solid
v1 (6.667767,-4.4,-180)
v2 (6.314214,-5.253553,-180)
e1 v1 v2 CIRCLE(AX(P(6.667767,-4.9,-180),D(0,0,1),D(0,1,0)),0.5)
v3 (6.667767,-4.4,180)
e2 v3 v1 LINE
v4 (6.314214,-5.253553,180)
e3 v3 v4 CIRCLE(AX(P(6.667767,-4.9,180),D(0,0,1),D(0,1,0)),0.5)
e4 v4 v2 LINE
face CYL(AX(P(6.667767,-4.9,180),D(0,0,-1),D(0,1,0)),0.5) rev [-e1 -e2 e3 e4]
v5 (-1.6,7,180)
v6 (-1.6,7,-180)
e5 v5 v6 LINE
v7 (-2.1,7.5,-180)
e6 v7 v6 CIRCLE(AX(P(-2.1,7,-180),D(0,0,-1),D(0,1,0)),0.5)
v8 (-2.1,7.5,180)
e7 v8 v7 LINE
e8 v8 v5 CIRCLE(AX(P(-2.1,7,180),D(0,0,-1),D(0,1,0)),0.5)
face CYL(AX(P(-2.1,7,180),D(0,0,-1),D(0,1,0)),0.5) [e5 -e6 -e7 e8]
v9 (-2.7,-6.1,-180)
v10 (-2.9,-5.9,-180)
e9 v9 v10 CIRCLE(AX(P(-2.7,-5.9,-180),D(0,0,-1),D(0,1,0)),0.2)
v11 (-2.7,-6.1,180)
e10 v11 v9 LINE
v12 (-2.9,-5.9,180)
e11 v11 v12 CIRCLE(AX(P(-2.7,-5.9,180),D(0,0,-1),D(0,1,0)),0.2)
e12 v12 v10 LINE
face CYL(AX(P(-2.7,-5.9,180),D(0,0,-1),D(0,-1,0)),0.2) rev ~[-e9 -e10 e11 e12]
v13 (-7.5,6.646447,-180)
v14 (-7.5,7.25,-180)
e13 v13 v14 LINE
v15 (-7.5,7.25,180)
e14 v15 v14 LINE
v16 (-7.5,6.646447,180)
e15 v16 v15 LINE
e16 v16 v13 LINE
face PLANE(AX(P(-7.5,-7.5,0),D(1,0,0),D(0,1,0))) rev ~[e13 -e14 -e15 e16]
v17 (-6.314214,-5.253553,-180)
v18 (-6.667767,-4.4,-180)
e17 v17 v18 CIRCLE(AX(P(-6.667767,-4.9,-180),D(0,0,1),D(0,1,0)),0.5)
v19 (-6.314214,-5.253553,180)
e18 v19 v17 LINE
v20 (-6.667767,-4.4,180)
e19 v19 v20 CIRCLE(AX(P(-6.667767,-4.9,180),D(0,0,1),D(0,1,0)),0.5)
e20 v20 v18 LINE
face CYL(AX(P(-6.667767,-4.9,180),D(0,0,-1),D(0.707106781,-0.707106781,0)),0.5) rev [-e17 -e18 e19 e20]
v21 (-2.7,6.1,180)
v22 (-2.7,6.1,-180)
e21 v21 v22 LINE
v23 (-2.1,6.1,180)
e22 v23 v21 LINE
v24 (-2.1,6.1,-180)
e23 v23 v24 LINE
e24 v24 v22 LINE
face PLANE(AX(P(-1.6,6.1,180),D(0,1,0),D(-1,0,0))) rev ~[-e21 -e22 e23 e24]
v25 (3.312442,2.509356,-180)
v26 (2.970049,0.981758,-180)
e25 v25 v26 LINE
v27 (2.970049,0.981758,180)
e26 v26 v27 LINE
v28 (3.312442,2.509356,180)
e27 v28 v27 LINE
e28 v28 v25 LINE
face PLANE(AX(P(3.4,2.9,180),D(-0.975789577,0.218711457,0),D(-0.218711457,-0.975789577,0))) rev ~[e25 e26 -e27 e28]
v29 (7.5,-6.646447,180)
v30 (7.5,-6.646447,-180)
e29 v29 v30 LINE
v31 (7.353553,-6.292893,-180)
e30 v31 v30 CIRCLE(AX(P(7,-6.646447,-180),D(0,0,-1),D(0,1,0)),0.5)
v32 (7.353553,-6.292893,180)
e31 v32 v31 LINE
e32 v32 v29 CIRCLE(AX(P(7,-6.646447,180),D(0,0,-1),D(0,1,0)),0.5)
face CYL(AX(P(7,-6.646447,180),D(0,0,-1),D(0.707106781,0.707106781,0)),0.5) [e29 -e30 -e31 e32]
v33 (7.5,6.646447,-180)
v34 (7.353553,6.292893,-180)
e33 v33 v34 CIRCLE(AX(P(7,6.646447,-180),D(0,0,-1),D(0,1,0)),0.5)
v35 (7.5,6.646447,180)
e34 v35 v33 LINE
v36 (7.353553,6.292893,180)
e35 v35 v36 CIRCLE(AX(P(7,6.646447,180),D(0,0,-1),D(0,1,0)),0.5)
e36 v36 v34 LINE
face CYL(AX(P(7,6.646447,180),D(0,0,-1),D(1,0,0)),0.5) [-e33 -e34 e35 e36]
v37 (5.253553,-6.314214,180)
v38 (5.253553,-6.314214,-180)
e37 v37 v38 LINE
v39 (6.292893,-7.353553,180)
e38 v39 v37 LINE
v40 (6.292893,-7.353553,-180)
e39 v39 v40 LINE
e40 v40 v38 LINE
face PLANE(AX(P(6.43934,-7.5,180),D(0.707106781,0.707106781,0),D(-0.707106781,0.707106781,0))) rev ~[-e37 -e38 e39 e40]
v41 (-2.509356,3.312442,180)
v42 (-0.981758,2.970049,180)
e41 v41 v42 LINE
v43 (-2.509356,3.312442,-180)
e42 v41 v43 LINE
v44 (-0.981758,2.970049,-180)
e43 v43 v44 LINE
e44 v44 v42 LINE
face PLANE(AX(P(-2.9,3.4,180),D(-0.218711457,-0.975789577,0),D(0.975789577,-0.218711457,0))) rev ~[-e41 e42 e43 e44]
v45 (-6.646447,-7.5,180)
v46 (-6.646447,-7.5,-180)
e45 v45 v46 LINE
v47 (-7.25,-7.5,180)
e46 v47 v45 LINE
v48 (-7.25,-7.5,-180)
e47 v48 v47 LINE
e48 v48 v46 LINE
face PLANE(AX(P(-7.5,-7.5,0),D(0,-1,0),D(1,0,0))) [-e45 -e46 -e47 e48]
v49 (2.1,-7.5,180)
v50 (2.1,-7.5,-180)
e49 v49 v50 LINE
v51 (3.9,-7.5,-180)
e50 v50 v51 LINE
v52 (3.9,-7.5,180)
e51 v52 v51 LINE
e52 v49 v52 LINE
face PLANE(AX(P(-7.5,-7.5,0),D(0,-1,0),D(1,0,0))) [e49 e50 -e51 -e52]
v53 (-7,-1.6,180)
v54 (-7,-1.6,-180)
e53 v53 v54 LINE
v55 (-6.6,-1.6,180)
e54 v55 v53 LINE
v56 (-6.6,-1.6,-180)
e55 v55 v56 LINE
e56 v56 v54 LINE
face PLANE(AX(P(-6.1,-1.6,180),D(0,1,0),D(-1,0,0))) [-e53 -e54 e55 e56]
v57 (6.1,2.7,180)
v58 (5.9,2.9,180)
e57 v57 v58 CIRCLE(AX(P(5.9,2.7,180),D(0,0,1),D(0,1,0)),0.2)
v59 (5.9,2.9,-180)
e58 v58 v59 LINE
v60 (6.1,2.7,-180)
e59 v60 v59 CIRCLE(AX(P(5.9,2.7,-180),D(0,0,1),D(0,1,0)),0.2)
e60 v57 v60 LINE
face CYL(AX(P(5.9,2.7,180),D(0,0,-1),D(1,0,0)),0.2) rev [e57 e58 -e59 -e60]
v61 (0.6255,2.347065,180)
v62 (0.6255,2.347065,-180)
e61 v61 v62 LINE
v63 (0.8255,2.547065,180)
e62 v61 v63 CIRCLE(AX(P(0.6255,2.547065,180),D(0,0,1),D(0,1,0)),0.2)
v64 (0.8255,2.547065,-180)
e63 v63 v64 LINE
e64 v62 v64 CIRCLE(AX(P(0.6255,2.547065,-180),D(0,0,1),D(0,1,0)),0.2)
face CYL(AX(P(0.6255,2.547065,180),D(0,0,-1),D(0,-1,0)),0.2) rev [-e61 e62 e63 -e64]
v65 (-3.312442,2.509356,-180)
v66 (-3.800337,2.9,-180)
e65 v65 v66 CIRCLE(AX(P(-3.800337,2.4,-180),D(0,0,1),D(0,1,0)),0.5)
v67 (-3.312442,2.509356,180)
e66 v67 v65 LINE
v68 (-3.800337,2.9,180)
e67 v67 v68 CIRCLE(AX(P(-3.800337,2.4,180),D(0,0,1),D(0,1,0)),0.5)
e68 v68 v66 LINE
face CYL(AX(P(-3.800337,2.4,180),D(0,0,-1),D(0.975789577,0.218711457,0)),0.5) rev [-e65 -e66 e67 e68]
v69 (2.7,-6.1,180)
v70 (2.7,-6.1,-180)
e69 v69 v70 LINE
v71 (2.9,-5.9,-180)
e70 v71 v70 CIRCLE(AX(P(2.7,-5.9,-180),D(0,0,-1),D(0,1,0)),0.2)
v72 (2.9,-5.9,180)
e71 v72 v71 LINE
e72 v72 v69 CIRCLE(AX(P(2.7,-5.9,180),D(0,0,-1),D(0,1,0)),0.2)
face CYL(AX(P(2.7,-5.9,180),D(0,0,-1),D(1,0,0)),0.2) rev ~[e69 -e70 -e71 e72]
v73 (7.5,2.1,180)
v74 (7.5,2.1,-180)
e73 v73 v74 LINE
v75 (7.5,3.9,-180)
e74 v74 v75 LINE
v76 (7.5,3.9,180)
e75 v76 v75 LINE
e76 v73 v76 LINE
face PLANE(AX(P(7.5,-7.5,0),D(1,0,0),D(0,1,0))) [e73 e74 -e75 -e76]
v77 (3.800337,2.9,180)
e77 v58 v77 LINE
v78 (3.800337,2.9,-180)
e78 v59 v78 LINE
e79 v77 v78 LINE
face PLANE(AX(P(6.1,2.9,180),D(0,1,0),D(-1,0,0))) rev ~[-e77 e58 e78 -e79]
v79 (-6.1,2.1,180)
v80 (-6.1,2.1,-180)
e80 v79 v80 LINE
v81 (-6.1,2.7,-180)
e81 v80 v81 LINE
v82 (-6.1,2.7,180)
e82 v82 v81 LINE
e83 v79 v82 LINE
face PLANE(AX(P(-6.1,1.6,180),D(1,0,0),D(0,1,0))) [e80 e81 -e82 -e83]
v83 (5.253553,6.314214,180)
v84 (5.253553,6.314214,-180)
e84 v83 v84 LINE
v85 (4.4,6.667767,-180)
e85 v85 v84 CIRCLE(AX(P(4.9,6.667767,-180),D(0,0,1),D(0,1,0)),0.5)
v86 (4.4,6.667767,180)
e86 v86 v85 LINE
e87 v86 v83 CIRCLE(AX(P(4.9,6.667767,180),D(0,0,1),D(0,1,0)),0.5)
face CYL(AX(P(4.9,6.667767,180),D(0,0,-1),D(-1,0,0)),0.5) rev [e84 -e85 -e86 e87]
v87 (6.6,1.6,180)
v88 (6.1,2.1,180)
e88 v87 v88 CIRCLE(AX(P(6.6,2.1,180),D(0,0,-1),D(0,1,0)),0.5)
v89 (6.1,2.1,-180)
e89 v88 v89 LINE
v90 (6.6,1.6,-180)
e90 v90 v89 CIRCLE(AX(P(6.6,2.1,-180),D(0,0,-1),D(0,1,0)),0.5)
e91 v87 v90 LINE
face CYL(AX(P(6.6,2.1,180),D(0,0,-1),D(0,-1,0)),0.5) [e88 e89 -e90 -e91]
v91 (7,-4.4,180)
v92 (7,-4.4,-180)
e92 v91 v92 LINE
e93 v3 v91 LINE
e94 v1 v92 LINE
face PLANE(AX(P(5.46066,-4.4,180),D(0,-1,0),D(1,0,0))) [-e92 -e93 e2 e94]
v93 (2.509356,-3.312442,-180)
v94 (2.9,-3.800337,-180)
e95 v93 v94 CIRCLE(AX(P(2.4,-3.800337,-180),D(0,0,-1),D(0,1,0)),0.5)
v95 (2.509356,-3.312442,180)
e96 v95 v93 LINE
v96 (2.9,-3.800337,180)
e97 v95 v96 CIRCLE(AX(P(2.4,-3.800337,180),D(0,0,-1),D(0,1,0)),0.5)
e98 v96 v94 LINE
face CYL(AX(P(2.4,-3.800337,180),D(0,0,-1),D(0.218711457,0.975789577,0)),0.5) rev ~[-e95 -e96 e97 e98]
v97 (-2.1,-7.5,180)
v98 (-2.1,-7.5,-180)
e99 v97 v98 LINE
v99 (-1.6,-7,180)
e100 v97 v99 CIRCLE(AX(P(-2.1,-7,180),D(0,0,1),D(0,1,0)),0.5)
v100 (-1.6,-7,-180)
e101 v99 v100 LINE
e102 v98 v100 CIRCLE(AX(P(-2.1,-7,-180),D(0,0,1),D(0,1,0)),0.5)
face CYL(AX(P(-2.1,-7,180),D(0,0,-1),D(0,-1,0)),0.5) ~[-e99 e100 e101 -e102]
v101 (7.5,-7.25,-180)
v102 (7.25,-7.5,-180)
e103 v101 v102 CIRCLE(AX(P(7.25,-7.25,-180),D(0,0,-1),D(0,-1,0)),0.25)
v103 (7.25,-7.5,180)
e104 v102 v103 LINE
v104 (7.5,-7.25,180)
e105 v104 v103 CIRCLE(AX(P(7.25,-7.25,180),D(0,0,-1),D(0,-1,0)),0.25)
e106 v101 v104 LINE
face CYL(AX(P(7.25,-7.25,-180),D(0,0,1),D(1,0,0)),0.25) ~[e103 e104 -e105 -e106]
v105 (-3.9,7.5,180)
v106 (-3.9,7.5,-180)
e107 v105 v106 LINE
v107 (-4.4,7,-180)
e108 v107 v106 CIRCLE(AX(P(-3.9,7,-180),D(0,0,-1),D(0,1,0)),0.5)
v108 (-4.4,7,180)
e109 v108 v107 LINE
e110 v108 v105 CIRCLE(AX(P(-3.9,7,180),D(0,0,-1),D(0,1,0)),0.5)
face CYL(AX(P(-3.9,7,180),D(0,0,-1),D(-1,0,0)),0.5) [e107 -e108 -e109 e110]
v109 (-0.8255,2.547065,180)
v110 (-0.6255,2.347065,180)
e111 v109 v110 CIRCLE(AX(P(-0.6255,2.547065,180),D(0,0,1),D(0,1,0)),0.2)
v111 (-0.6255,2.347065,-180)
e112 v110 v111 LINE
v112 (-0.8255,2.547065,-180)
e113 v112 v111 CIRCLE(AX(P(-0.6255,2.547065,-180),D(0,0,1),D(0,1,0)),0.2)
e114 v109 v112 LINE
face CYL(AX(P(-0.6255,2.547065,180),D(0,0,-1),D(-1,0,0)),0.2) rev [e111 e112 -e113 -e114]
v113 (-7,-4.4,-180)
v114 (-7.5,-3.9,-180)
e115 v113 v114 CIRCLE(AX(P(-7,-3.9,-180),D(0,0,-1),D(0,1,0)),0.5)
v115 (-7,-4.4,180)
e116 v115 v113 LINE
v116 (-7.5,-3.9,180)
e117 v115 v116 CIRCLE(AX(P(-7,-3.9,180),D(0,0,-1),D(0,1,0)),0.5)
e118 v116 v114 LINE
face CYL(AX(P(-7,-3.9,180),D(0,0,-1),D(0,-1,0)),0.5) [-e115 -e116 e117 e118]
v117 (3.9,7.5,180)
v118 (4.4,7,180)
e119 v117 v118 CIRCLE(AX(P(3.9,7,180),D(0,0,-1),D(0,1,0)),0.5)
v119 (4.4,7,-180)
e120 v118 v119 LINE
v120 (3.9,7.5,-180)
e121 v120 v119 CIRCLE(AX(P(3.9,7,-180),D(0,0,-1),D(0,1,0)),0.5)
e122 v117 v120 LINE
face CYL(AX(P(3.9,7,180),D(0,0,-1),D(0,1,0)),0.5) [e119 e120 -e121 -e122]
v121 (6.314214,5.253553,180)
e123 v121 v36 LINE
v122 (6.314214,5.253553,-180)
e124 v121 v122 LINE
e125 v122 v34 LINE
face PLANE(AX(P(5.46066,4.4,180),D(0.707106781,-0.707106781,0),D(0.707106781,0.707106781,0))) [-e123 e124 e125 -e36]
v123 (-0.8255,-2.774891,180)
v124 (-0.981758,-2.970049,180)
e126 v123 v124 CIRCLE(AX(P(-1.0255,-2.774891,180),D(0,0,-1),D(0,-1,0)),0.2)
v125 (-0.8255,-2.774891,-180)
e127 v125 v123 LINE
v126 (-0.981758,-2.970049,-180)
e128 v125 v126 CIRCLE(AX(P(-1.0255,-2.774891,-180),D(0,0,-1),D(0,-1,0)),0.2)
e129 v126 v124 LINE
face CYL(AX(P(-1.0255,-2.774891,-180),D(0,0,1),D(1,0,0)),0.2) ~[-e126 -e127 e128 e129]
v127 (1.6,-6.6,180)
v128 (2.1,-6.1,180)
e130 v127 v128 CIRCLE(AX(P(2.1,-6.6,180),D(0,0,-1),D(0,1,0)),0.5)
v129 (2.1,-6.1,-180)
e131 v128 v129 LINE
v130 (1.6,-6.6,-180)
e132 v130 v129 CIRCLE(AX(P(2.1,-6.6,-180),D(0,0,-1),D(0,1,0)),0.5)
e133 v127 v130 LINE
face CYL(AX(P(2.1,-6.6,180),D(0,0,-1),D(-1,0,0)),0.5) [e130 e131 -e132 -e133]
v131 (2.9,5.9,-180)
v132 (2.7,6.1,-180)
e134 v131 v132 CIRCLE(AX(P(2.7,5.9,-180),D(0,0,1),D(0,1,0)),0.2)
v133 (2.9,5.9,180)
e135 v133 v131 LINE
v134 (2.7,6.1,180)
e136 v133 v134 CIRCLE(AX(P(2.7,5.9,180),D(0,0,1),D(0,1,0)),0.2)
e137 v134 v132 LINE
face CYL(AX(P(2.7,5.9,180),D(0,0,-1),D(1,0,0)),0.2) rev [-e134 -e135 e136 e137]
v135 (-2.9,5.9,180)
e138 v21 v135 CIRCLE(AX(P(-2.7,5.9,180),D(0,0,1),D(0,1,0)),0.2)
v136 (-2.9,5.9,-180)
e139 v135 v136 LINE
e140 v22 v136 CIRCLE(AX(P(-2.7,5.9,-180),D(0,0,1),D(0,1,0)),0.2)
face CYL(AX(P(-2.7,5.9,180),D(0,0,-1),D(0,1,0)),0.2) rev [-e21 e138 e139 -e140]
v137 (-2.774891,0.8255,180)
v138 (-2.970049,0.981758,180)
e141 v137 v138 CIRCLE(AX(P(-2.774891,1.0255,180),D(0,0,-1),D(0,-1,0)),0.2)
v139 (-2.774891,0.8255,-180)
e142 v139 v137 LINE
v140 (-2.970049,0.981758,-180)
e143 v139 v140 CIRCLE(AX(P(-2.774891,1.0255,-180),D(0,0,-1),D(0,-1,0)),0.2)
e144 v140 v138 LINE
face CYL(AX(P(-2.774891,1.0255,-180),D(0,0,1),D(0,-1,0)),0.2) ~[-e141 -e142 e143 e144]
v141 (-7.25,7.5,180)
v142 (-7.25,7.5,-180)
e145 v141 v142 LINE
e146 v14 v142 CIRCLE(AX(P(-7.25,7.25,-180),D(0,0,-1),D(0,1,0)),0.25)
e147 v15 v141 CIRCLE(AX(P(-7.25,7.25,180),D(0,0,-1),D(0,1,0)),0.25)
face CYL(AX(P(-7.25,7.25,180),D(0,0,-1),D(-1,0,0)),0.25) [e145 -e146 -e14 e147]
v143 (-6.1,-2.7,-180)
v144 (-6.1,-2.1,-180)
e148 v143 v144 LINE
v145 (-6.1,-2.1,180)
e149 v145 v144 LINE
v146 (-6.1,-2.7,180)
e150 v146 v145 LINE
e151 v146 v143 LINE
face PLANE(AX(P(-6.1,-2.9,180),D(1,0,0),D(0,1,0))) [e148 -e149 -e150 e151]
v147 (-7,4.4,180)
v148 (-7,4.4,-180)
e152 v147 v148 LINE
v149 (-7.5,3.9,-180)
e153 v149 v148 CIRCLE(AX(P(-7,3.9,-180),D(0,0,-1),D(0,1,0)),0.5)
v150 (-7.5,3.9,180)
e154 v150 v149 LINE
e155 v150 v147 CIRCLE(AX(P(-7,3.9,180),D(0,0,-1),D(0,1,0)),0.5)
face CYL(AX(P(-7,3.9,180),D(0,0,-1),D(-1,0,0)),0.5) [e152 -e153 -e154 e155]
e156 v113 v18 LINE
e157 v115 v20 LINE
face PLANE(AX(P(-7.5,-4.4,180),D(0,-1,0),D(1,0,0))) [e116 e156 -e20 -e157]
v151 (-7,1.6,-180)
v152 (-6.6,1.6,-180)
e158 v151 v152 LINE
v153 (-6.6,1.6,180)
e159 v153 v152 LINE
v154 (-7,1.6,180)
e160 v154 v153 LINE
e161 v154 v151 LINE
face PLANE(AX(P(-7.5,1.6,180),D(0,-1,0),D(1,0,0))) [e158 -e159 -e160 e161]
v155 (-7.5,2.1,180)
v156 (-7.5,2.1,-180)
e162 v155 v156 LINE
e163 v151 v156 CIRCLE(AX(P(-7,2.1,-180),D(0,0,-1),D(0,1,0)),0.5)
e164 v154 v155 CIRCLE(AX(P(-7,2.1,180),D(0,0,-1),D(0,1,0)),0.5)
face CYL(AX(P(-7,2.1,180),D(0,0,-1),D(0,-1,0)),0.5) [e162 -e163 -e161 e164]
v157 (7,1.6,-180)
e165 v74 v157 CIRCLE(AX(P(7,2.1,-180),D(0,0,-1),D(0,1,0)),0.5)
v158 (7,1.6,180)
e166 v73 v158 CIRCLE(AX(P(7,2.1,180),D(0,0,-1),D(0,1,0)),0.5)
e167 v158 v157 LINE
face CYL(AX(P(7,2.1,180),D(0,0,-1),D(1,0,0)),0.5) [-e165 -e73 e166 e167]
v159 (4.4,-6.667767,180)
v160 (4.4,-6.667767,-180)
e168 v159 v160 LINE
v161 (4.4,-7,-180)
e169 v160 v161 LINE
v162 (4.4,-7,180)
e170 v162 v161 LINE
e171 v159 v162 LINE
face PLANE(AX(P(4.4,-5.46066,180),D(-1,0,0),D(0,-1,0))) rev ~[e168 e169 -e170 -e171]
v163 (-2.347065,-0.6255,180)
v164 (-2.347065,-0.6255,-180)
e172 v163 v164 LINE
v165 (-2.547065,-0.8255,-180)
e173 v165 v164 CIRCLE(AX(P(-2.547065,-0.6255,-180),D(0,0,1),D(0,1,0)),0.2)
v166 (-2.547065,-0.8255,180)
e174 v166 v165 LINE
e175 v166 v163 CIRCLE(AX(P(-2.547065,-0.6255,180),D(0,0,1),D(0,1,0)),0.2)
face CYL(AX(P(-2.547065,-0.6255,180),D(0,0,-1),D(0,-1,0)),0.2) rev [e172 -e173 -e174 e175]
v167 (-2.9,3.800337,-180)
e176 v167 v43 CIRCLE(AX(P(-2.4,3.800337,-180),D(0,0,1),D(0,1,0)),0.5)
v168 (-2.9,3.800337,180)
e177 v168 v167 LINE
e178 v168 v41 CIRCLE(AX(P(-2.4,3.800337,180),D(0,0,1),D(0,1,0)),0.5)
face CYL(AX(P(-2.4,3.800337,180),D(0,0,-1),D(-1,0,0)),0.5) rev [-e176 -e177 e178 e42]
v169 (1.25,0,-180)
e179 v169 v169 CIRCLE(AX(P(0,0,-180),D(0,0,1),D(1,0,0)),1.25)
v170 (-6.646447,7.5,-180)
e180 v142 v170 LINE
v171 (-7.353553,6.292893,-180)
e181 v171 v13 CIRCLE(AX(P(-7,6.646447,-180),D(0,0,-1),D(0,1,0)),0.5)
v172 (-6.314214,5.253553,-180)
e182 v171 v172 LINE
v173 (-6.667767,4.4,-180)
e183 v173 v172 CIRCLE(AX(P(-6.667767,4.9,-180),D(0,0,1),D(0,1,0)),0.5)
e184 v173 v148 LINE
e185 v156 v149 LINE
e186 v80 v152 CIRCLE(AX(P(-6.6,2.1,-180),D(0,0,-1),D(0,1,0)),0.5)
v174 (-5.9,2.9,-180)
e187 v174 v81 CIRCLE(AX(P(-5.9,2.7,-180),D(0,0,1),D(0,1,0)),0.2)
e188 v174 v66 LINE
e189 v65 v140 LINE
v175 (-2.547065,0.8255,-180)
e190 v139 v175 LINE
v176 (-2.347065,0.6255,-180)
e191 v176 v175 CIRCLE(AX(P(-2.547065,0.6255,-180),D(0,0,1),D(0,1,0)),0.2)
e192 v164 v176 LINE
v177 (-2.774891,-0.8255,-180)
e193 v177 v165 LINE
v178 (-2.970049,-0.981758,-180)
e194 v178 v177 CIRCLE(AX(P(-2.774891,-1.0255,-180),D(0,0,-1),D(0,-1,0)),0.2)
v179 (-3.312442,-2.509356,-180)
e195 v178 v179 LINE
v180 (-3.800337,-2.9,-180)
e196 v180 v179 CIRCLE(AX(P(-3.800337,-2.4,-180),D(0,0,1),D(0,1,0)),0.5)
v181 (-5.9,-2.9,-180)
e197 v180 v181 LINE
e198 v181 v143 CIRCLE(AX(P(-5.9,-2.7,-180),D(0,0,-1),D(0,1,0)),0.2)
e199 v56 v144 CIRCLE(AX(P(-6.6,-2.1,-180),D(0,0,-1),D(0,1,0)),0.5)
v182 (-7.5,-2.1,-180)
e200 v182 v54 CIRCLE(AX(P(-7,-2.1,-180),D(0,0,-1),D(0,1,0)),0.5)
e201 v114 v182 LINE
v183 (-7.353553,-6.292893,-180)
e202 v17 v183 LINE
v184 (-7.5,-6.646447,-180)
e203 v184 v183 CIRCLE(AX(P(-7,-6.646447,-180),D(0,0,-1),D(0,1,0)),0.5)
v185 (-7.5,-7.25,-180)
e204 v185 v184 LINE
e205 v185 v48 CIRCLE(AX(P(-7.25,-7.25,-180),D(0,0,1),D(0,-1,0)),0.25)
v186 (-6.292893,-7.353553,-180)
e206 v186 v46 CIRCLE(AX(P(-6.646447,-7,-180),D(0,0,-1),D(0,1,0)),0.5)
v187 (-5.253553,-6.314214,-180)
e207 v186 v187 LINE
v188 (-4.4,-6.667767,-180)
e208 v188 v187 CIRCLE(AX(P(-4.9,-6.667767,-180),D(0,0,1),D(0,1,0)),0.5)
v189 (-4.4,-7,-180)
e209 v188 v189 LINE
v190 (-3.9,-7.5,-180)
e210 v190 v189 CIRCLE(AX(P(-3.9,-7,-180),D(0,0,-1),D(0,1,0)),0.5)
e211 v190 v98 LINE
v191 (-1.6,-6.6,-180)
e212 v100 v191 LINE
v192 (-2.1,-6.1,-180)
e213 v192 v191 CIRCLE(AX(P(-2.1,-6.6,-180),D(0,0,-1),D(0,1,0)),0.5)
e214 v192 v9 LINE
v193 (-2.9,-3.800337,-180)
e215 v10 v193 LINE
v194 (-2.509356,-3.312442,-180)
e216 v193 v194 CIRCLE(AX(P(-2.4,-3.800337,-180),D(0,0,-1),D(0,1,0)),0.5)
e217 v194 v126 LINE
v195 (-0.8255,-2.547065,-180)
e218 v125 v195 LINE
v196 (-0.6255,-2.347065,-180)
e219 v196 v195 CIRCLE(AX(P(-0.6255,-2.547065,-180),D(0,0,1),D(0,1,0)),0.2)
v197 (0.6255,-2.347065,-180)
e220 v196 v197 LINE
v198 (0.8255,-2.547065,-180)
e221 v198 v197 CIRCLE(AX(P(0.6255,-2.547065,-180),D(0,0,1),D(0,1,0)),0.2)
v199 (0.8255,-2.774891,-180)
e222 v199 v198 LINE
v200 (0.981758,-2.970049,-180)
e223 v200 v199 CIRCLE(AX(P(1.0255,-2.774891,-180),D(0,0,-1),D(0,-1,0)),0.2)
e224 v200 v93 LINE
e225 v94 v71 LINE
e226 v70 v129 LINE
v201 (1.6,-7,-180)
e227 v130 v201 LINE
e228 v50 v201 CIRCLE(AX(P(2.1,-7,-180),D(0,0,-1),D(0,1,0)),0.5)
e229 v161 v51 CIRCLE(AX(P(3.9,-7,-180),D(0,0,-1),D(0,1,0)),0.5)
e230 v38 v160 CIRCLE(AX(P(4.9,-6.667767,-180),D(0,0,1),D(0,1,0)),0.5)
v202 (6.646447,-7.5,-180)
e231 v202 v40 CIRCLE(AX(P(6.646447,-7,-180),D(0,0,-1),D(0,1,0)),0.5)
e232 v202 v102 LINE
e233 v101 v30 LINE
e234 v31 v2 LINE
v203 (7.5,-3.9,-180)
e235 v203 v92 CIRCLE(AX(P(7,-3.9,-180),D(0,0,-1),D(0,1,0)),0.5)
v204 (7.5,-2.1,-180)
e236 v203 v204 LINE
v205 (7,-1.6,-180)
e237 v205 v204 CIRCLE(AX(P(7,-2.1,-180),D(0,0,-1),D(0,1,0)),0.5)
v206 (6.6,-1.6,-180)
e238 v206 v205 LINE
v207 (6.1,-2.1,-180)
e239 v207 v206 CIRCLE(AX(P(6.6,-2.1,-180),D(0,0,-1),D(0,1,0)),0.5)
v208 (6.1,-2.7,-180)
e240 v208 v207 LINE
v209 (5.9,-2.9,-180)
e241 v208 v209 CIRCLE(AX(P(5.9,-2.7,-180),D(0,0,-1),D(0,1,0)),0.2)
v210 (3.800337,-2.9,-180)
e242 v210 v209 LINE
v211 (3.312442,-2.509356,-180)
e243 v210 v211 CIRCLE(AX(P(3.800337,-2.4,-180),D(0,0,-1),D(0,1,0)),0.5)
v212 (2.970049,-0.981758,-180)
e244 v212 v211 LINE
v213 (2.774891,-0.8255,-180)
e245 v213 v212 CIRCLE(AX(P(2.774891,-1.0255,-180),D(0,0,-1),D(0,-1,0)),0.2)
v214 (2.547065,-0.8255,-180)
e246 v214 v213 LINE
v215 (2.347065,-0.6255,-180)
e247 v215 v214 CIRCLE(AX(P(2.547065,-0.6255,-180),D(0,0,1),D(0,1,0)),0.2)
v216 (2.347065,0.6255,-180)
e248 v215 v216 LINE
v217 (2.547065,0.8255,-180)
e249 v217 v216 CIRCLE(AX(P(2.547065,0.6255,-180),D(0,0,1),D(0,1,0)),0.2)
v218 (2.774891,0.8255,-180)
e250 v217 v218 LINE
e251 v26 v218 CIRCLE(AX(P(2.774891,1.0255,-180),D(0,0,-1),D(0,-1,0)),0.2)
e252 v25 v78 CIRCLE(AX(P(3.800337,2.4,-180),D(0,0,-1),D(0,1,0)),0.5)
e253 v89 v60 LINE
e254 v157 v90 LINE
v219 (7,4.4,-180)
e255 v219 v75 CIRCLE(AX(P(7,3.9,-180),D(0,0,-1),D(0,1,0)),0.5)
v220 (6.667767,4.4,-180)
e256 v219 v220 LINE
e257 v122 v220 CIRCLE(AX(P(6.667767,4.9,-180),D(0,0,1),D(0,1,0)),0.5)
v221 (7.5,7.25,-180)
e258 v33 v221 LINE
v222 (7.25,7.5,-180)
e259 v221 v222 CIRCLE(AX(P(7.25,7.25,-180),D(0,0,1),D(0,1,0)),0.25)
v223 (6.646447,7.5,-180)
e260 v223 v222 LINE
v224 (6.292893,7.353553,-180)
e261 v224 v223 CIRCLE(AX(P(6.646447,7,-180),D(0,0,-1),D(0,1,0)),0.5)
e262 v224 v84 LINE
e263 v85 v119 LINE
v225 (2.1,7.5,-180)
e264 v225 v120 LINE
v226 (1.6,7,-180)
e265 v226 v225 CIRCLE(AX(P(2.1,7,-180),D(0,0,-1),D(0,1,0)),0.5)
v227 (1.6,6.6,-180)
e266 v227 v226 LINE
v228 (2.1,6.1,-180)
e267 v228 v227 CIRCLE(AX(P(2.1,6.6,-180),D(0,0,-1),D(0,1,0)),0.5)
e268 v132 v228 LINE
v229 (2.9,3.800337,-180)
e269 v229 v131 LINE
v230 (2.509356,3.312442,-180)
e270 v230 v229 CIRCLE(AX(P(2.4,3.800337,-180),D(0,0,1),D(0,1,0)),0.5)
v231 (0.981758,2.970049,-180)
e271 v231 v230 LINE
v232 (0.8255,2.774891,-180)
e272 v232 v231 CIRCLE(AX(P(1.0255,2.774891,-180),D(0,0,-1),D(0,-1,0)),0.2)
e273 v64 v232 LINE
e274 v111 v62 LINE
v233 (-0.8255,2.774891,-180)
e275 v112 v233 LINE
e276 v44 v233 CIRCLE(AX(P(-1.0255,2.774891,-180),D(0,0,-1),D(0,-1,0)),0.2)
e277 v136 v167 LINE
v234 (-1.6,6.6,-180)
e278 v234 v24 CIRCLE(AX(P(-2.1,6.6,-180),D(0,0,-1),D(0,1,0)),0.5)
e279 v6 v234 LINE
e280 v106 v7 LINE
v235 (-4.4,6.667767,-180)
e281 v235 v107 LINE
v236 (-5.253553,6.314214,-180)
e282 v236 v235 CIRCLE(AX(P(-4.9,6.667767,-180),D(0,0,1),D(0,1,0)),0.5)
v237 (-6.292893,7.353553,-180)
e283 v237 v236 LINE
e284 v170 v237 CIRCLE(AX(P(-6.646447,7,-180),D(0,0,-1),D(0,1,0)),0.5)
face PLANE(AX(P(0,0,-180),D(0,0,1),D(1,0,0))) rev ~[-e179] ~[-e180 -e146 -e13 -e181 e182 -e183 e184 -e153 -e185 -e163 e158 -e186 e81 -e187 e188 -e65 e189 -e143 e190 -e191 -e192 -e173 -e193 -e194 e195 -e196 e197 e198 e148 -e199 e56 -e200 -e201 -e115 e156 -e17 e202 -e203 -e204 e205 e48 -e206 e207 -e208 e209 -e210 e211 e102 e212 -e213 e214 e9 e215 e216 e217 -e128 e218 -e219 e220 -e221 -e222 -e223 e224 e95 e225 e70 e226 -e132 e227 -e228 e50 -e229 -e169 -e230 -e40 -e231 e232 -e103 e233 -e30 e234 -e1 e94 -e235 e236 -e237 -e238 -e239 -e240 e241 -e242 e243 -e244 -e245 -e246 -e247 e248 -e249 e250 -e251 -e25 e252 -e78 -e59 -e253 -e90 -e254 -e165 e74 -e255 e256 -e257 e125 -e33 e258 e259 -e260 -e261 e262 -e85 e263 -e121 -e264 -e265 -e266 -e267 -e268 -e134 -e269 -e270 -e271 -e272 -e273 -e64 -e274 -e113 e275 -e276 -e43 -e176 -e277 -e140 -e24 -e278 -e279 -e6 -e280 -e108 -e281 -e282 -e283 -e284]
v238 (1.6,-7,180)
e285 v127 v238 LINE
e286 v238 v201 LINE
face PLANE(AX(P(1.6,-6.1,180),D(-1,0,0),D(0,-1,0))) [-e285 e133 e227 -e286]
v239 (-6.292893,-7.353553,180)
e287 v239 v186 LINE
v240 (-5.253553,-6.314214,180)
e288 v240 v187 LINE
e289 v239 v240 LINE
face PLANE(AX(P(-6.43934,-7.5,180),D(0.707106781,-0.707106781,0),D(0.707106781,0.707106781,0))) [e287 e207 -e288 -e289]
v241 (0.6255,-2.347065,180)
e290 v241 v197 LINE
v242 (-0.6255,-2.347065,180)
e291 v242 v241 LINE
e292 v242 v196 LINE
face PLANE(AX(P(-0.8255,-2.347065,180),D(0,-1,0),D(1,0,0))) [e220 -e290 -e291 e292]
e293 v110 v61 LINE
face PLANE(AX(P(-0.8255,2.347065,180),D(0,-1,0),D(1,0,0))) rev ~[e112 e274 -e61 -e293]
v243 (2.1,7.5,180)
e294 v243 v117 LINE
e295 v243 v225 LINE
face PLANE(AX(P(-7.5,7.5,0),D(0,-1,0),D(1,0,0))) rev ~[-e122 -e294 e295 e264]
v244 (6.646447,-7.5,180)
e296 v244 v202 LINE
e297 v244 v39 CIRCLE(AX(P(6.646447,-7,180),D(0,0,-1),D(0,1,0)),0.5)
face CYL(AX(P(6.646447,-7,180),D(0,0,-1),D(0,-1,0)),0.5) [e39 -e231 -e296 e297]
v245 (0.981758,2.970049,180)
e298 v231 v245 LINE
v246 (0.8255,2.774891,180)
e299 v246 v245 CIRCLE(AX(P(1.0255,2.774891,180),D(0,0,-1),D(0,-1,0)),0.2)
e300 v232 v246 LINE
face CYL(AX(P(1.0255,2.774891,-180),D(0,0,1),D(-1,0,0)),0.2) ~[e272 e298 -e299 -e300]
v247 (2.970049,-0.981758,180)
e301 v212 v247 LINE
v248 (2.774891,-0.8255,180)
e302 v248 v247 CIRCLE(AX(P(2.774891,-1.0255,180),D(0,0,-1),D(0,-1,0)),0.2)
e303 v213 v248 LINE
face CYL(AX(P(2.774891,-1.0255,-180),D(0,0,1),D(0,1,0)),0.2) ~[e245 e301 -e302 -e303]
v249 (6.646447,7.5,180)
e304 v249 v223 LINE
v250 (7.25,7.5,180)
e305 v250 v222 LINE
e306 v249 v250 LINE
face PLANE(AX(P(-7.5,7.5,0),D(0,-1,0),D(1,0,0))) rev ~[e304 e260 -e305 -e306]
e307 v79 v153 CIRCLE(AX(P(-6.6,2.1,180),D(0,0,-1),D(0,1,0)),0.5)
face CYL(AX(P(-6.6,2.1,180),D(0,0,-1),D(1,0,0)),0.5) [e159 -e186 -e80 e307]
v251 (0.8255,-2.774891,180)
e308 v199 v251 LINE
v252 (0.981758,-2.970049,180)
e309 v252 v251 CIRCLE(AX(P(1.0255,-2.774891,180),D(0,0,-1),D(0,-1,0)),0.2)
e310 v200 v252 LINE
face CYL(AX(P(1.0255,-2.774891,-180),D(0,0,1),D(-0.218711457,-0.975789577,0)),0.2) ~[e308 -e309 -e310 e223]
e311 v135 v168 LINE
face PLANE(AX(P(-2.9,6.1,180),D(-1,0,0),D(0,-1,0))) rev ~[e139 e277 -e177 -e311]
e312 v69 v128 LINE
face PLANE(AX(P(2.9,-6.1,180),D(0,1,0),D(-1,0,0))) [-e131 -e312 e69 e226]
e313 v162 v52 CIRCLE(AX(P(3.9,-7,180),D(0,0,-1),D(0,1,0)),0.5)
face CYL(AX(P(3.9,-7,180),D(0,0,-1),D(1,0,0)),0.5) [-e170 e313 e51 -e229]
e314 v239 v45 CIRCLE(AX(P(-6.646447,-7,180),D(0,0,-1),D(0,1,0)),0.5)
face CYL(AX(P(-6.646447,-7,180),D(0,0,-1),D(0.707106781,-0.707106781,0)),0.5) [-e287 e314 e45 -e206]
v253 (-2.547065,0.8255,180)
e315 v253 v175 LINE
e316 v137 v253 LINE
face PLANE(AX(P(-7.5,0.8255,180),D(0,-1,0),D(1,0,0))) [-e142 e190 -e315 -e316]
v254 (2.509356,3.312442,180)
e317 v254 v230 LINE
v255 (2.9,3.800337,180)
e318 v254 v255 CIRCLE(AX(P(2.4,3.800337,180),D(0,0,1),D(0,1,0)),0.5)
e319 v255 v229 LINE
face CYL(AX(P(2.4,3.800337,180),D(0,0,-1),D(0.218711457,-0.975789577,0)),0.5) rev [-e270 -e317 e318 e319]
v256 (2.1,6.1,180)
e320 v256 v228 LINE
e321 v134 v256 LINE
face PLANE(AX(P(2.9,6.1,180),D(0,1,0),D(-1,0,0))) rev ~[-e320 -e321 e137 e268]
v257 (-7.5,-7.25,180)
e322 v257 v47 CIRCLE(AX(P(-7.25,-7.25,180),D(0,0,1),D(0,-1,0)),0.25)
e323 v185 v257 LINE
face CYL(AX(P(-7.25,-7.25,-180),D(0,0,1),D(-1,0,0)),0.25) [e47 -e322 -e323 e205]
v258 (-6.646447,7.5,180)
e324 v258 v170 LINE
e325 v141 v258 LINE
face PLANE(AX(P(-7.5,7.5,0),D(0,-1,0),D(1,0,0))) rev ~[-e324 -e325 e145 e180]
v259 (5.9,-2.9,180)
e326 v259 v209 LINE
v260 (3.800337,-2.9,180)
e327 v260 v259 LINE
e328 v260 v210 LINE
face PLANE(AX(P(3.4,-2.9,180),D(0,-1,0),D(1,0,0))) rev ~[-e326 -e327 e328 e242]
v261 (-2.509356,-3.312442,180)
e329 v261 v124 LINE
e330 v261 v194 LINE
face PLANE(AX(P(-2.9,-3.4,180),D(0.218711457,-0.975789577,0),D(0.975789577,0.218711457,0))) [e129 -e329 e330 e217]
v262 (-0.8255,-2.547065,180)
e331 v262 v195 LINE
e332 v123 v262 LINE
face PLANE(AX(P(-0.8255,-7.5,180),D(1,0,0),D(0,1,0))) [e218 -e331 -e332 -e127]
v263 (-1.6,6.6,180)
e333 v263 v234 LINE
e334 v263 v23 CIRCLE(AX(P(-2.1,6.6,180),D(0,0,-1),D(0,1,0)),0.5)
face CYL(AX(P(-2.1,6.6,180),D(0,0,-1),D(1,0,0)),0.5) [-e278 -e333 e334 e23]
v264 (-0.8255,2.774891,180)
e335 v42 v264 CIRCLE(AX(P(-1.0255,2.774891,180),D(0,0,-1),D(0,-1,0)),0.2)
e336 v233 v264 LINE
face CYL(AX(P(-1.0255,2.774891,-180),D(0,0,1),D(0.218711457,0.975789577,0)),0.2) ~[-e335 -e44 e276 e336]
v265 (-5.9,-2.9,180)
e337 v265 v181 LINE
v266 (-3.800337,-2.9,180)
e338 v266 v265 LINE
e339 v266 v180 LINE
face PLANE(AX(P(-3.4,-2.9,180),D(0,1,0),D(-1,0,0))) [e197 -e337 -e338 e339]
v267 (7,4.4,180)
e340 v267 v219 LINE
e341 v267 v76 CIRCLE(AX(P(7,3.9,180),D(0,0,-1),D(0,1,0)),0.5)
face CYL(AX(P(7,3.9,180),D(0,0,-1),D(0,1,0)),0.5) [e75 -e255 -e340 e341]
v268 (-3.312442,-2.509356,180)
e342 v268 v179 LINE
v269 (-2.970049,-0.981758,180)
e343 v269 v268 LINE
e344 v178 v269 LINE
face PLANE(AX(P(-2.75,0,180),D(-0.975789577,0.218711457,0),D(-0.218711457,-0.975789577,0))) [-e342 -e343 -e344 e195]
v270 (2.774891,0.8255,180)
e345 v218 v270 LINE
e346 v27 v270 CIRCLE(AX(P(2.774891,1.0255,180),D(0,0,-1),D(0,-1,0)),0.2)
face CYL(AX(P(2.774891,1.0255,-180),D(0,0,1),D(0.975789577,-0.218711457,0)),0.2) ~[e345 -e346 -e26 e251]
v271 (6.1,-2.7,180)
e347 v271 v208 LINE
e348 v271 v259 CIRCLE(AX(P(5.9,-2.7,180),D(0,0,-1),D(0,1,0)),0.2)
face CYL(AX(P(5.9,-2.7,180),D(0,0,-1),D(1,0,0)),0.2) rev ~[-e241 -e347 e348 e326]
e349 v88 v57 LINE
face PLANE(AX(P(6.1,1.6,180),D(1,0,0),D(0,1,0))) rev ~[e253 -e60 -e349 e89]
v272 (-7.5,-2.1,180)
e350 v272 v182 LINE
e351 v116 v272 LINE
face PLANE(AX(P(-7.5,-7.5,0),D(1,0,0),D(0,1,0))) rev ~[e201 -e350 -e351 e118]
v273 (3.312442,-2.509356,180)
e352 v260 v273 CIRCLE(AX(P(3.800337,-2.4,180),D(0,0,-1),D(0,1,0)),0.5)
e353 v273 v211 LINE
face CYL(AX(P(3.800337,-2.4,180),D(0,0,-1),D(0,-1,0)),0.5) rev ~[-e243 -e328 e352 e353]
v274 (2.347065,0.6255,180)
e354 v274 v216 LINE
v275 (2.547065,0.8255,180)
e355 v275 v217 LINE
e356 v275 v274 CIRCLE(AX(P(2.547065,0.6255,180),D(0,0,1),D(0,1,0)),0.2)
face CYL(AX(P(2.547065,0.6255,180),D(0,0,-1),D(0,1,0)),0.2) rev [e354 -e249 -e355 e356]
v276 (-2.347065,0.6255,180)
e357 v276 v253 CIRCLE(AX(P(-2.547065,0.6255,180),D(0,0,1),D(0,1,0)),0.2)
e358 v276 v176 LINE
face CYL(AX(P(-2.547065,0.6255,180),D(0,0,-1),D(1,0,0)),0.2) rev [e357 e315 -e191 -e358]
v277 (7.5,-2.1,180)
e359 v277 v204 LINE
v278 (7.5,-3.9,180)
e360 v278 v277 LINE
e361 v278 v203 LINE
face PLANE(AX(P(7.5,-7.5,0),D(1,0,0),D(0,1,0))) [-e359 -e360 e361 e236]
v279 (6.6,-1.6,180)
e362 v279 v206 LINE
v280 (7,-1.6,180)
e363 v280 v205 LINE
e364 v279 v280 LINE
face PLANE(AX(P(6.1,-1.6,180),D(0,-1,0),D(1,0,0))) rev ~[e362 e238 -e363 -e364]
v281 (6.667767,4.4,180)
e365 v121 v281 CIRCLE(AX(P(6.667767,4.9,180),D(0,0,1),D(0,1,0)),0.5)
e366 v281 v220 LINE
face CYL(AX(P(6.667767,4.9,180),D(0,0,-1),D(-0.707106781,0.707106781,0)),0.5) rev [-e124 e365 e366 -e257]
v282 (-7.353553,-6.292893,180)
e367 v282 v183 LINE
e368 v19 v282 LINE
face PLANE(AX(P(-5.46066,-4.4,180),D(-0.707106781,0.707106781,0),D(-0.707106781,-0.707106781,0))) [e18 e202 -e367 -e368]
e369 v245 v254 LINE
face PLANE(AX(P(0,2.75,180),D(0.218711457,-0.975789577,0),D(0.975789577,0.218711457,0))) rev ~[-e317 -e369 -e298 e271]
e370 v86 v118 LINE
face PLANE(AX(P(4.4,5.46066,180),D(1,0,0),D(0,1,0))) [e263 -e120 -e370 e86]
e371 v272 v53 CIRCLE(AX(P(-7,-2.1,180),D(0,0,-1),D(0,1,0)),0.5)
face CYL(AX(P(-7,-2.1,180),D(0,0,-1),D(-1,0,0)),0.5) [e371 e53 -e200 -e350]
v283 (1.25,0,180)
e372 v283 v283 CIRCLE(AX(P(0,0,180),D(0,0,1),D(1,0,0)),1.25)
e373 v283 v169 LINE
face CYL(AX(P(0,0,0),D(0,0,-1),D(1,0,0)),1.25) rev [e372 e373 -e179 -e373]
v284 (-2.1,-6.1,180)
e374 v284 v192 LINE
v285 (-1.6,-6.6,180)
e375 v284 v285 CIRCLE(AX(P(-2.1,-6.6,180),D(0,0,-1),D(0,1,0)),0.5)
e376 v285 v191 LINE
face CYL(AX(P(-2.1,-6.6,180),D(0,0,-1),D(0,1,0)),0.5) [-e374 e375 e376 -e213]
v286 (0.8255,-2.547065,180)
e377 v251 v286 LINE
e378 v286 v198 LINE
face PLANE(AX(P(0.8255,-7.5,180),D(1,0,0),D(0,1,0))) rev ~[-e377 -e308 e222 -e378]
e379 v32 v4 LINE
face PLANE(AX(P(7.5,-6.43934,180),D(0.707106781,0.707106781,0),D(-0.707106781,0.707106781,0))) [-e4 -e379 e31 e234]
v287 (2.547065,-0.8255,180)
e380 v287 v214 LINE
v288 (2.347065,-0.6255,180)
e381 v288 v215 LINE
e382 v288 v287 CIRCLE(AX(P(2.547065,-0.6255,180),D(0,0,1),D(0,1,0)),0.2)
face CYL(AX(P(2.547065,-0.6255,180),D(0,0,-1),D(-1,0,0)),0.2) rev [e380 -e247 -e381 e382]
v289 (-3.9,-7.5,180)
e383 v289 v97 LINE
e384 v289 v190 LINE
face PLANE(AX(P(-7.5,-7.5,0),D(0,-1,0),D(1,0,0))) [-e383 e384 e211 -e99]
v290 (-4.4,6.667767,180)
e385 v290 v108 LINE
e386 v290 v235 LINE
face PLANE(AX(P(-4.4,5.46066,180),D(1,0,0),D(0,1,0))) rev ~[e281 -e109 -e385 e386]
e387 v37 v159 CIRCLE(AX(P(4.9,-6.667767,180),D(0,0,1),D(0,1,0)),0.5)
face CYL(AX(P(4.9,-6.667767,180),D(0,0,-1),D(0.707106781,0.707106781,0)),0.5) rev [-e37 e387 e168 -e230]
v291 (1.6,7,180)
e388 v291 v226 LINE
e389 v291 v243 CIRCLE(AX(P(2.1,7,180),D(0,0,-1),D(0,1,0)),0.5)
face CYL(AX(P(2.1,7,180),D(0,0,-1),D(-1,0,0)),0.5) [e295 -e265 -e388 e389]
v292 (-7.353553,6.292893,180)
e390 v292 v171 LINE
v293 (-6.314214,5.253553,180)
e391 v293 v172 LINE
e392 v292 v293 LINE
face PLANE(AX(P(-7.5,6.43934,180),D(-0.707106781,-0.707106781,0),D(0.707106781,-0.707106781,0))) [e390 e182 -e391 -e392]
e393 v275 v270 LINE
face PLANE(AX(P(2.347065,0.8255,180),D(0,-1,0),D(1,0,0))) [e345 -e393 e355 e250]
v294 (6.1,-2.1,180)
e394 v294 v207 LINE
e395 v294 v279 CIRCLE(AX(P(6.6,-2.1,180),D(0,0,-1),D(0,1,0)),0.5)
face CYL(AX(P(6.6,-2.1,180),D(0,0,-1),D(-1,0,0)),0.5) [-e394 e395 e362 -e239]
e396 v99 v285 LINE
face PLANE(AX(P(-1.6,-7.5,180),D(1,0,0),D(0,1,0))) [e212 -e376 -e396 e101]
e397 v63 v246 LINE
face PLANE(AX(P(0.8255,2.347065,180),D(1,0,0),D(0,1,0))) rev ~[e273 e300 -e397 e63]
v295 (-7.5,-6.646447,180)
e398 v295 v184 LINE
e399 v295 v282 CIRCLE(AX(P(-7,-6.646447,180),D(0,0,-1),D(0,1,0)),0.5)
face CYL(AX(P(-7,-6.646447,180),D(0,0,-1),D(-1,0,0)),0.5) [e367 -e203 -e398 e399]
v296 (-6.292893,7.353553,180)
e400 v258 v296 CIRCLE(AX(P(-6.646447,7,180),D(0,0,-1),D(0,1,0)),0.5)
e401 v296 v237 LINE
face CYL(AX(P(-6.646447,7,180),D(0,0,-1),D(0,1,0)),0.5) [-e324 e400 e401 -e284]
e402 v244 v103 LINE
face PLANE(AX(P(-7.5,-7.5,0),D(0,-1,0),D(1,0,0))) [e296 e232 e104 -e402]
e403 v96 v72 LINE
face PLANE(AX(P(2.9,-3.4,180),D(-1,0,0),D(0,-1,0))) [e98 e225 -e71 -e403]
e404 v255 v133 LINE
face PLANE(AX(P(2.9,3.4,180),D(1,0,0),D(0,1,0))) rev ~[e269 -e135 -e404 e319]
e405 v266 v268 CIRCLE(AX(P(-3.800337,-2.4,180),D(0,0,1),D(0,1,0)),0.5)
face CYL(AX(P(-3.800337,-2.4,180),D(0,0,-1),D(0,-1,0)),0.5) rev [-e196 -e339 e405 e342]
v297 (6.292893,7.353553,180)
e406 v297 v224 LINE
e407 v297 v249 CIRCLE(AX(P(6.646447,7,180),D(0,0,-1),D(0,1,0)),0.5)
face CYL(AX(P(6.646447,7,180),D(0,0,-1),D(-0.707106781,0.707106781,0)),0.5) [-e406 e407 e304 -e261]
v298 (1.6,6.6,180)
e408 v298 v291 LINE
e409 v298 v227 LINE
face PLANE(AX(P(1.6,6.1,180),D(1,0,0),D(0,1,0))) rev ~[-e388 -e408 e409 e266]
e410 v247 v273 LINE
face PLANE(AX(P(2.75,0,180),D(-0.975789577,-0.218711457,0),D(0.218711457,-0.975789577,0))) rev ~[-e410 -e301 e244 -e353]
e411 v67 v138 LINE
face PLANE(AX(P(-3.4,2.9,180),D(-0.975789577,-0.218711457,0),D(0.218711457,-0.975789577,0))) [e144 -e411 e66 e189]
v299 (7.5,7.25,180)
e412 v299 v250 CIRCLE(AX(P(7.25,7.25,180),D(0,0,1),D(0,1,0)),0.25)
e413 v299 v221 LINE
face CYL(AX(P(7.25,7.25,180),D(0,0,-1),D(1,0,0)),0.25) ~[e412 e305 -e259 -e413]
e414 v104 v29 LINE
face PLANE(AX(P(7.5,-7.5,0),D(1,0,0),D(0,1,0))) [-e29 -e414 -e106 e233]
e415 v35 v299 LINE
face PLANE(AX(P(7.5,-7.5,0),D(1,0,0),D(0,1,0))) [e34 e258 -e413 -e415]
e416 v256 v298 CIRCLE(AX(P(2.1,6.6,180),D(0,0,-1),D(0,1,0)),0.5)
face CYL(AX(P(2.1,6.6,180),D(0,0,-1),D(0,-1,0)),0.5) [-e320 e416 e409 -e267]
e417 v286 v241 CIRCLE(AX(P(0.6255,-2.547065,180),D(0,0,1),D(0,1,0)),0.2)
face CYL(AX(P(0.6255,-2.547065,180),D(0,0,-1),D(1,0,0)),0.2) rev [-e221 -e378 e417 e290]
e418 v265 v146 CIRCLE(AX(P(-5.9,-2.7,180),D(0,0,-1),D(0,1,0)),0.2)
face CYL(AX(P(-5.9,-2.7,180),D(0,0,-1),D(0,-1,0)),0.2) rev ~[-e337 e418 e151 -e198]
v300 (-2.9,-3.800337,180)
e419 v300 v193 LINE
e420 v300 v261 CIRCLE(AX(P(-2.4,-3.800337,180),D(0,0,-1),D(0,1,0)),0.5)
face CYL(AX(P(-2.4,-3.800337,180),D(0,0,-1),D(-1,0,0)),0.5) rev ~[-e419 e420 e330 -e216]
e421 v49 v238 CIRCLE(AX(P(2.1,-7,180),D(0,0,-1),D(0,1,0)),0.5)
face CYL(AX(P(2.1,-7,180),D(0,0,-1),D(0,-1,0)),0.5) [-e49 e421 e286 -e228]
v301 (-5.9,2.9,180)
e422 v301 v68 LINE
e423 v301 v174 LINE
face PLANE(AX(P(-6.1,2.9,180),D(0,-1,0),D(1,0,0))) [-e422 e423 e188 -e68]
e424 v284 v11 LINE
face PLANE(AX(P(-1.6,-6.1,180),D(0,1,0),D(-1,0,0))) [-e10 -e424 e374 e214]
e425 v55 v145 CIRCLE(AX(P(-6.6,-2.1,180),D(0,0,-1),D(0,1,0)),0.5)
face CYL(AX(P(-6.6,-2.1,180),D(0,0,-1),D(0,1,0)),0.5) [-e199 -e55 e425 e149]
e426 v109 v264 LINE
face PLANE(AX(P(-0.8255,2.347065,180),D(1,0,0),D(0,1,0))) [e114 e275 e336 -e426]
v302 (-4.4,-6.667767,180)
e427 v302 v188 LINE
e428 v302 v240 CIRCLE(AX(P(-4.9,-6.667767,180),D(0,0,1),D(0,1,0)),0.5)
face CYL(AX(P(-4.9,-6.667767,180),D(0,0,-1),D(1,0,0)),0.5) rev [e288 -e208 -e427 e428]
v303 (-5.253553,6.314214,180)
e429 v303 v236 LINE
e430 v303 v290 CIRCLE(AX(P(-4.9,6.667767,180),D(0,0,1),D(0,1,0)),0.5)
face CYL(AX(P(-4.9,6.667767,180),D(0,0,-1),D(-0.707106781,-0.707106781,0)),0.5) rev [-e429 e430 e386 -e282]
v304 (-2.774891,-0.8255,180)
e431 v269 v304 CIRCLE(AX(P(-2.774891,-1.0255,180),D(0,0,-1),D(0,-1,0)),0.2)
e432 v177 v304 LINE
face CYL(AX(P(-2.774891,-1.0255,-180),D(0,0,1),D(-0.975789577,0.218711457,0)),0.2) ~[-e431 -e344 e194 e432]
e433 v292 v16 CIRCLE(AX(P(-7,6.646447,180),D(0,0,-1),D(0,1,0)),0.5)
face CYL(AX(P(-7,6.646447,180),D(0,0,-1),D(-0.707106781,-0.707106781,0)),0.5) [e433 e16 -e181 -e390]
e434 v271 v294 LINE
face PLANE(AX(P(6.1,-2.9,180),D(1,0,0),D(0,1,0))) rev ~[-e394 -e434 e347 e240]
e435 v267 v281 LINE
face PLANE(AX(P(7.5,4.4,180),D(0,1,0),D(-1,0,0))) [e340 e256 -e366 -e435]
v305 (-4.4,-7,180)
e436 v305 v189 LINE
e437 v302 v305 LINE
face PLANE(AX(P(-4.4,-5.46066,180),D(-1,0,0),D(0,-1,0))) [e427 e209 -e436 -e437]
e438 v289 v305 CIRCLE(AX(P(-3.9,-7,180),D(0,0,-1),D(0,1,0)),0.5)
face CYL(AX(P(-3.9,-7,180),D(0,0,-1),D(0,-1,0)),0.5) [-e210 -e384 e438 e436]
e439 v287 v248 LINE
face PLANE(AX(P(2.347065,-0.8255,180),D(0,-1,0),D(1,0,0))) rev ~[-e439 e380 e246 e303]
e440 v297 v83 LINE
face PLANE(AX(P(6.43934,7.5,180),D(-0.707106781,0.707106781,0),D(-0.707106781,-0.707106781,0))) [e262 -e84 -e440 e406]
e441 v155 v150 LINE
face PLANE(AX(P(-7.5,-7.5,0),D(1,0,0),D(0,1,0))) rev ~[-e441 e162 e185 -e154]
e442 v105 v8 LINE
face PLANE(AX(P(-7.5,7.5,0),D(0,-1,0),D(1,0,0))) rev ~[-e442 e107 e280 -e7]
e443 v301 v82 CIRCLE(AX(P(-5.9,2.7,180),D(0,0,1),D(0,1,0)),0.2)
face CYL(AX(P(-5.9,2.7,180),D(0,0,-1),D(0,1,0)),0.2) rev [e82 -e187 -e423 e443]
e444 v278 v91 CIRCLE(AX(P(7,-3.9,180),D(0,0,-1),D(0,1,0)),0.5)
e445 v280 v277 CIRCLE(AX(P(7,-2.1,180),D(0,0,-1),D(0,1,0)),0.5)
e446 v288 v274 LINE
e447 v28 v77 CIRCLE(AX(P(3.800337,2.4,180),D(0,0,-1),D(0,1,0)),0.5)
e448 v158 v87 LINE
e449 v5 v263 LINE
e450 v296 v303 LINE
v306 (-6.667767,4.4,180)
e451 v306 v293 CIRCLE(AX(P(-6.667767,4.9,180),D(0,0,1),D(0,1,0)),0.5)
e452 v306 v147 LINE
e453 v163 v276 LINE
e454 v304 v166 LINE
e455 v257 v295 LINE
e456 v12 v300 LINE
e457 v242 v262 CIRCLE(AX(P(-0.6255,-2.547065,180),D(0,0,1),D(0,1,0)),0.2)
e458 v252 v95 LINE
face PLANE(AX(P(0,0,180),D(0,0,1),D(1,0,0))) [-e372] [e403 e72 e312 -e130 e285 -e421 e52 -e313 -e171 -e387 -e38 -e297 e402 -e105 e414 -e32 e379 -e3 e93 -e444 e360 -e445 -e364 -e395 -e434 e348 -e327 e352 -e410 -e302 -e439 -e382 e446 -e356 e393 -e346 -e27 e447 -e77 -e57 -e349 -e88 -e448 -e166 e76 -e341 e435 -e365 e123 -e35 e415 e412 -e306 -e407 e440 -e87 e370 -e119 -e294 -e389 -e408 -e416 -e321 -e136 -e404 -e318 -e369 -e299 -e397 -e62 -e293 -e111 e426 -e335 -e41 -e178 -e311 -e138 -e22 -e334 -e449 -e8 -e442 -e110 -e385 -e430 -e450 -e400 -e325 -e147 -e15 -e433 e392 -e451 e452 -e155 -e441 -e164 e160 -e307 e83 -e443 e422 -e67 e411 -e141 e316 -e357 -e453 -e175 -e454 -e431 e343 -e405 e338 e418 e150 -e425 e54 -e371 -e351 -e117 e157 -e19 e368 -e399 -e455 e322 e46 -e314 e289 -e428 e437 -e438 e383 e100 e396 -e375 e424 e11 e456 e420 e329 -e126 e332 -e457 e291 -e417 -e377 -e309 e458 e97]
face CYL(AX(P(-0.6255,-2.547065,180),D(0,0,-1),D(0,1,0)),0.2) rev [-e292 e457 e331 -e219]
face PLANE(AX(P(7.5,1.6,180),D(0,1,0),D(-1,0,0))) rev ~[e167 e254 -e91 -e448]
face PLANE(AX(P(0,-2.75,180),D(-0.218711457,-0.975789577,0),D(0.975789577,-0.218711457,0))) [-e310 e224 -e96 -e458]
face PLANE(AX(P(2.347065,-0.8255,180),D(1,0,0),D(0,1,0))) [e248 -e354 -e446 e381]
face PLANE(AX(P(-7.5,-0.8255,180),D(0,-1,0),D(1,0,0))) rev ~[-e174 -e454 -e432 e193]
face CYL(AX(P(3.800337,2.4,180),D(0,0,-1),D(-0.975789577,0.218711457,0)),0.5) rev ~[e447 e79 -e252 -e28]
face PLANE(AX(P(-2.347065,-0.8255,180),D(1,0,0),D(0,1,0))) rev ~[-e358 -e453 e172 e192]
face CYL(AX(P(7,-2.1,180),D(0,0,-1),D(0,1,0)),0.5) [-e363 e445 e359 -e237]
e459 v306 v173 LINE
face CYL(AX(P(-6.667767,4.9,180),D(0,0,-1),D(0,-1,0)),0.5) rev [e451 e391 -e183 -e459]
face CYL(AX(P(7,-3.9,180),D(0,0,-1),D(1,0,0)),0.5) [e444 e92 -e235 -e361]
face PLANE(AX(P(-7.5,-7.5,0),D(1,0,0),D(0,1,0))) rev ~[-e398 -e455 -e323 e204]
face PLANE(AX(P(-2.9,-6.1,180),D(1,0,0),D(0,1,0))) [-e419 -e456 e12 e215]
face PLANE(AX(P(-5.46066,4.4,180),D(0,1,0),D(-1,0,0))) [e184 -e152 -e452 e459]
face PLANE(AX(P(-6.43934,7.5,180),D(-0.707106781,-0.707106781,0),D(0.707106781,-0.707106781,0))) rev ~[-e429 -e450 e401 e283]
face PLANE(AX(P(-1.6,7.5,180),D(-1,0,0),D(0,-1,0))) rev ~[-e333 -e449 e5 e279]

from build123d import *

# Parameters (mm, degrees)
SKETCH1_W           = 15
SKETCH1_H           = 15
SKETCH1_R           = 1.25
BOSS_EXTRUDE1_DEPTH = 180
FILLET1_R           = 0.25
CUT_EXTRUDE1_DEPTH  = 361
CUT_EXTRUDE3_DEPTH  = 361
FILLET3_R           = 0.5
FILLET4_R           = 0.5
FILLET5_R           = 3
FILLET6_R           = 0.2
CUT_EXTRUDE4_DEPTH  = 361
FILLET8_R           = 0.5
SKETCH6_W           = 5.1529354
SKETCH6_H           = 1.651
SKETCH6_W_2         = 1.651
SKETCH6_H_2         = 5.1529354
CUT_EXTRUDE5_DEPTH  = 361
FILLET10_R          = 0.2


with BuildPart() as part:
    # Sketch1 → Boss-Extrude1 (new body, symmetric)
    with BuildSketch(Plane.XY):
        Rectangle(SKETCH1_W, SKETCH1_H)
        Circle(SKETCH1_R, mode=Mode.SUBTRACT)
    extrude(amount=BOSS_EXTRUDE1_DEPTH, both=True)

    # Fillet1
    fillet1_edges = [part.edges().sort_by_distance(p)[0] for p in [
        (7.5, -7.5, 0),
        (-7.5, -7.5, 0),
        (-7.5, 7.5, 0),
        (7.5, 7.5, 0),
    ]]
    fillet(fillet1_edges, radius=FILLET1_R)

    # Sketch2 → Cut-Extrude1 (cut, through all)
    with BuildSketch(Plane.XY.offset(180)):
        Polygon((-7.5, 1.6), (-6.1, 1.6), (-6.1, 2.9), (-3.4, 2.9), (-3.4, -2.9), (-6.1, -2.9), (-6.1, -1.6), (-7.5, -1.6), align=None)
        Polygon((2.9, 6.1), (1.6, 6.1), (1.6, 7.5), (-1.6, 7.5), (-1.6, 6.1), (-2.9, 6.1), (-2.9, 3.4), (2.9, 3.4), align=None)
        Polygon((-1.6, -7.5), (-1.6, -6.1), (-2.9, -6.1), (-2.9, -3.4), (2.9, -3.4), (2.9, -6.1), (1.6, -6.1), (1.6, -7.5), align=None)
        Polygon((6.1, -2.9), (6.1, -1.6), (7.5, -1.6), (7.5, 1.6), (6.1, 1.6), (6.1, 2.9), (3.4, 2.9), (3.4, -2.9), align=None)
    extrude(amount=-CUT_EXTRUDE1_DEPTH, mode=Mode.SUBTRACT)

    # Sketch4 → Cut-Extrude3 (cut, through all)
    with BuildSketch(Plane.XY.offset(180)):
        Polygon((-3.4, 2.9), (-2.75, 0), (-3.4, -2.9), align=None)
        Polygon((-2.9, 3.4), (0, 2.75), (2.9, 3.4), align=None)
        Polygon((3.4, 2.9), (2.75, 0), (3.4, -2.9), align=None)
        Polygon((-2.9, -3.4), (0, -2.75), (2.9, -3.4), align=None)
    extrude(amount=-CUT_EXTRUDE3_DEPTH, mode=Mode.SUBTRACT)

    # Fillet3
    fillet3_edges = [part.edges().sort_by_distance(p)[0] for p in [
        (1.6, -7.5, 0),
        (-1.6, -7.5, 0),
        (-1.6, -6.1, 0),
        (1.6, -6.1, 0),
        (6.1, 1.6, 0),
        (7.5, 1.6, 0),
        (7.5, -1.6, 0),
        (6.1, -1.6, 0),
        (-7.5, -1.6, 0),
        (-7.5, 1.6, 0),
        (-6.1, 1.6, 0),
        (-6.1, -1.6, 0),
        (-1.6, 6.1, 0),
        (-1.6, 7.5, 0),
        (1.6, 7.5, 0),
        (1.6, 6.1, 0),
    ]]
    fillet(fillet3_edges, radius=FILLET3_R)

    # Fillet4
    fillet4_edges = [part.edges().sort_by_distance(p)[0] for p in [
        (-2.9, -3.4, 0),
        (2.9, -3.4, 0),
        (3.4, -2.9, 0),
        (3.4, 2.9, 0),
        (-3.4, 2.9, 0),
        (-3.4, -2.9, 0),
        (2.9, 3.4, 0),
        (-2.9, 3.4, 0),
    ]]
    fillet(fillet4_edges, radius=FILLET4_R)

    # Fillet5
    fillet5_edges = [part.edges().sort_by_distance(p)[0] for p in [
        (-2.75, 0, 0),
        (0, 2.75, 0),
        (2.75, 0, 0),
        (0, -2.75, 0),
    ]]
    fillet(fillet5_edges, radius=FILLET5_R)

    # Fillet6
    fillet6_edges = [part.edges().sort_by_distance(p)[0] for p in [
        (-2.9, -6.1, 0),
        (2.9, -6.1, 0),
        (6.1, -2.9, 0),
        (6.1, 2.9, 0),
        (-6.1, 2.9, 0),
        (-6.1, -2.9, 0),
        (2.9, 6.1, 0),
        (-2.9, 6.1, 0),
    ]]
    fillet(fillet6_edges, radius=FILLET6_R)

    # Sketch5 → Cut-Extrude4 (cut, through all)
    with BuildSketch(Plane.XY.offset(180)):
        Polygon((-7.5, 6.439339828), (-5.460660172, 4.4), (-7.5, 4.4), align=None)
        Polygon((-6.439339828, 7.5), (-4.4, 5.460660172), (-4.4, 7.5), align=None)
        Polygon((4.4, 7.5), (6.439339828, 7.5), (4.4, 5.460660172), align=None)
        Polygon((7.5, 6.439339828), (7.5, 4.4), (5.460660172, 4.4), align=None)
        Polygon((7.5, -6.439339828), (5.460660172, -4.4), (7.5, -4.4), align=None)
        Polygon((6.439339828, -7.5), (4.4, -5.460660172), (4.4, -7.5), align=None)
        Polygon((-4.4, -7.5), (-6.439339828, -7.5), (-4.4, -5.460660172), align=None)
        Polygon((-7.5, -6.439339828), (-7.5, -4.4), (-5.460660172, -4.4), align=None)
    extrude(amount=-CUT_EXTRUDE4_DEPTH, mode=Mode.SUBTRACT)

    # Fillet8
    fillet8_edges = [part.edges().sort_by_distance(p)[0] for p in [
        (-7.5, 4.4, 0),
        (-7.5, 6.439339828, 0),
        (-5.460660172, 4.4, 0),
        (7.5, -4.4, 0),
        (7.5, -6.439339828, 0),
        (5.460660172, -4.4, 0),
        (5.460660172, 4.4, 0),
        (7.5, 6.439339828, 0),
        (7.5, 4.4, 0),
        (-4.4, 7.5, 0),
        (-4.4, 5.460660172, 0),
        (-6.439339828, 7.5, 0),
        (-5.460660172, -4.4, 0),
        (-7.5, -6.439339828, 0),
        (-7.5, -4.4, 0),
        (4.4, 5.460660172, 0),
        (4.4, 7.5, 0),
        (6.439339828, 7.5, 0),
        (6.439339828, -7.5, 0),
        (4.4, -7.5, 0),
        (4.4, -5.460660172, 0),
        (-6.439339828, -7.5, 0),
        (-4.4, -5.460660172, 0),
        (-4.4, -7.5, 0),
    ]]
    fillet(fillet8_edges, radius=FILLET8_R)

    # Sketch6 → Cut-Extrude5 (cut, through all)
    with BuildSketch(Plane.XY.offset(180)):
        with Locations((4.9235323, 0)):
            Rectangle(SKETCH6_W, SKETCH6_H)
        with Locations((0, -4.9235323)):
            Rectangle(SKETCH6_W_2, SKETCH6_H_2)
        with Locations((-4.9235323, 0)):
            Rectangle(SKETCH6_W, SKETCH6_H)
        with Locations((0, 4.9235323)):
            Rectangle(SKETCH6_W_2, SKETCH6_H_2)
    extrude(amount=-CUT_EXTRUDE5_DEPTH, mode=Mode.SUBTRACT)

    # Fillet10
    fillet10_edges = [part.edges().sort_by_distance(p)[0] for p in [
        (0.8255, -2.935025862, 0),
        (-0.8255, -2.935025862, 0),
        (0.8255, -2.3470646, 0),
        (-0.8255, -2.3470646, 0),
        (2.935025862, 0.8255, 0),
        (2.935025862, -0.8255, 0),
        (2.3470646, 0.8255, 0),
        (2.3470646, -0.8255, 0),
        (-2.935025862, -0.8255, 0),
        (-2.935025862, 0.8255, 0),
        (-2.3470646, -0.8255, 0),
        (-2.3470646, 0.8255, 0),
        (-0.8255, 2.935025862, 0),
        (0.8255, 2.935025862, 0),
        (-0.8255, 2.3470646, 0),
        (0.8255, 2.3470646, 0),
    ]]
    fillet(fillet10_edges, radius=FILLET10_R)


solid = part.part
